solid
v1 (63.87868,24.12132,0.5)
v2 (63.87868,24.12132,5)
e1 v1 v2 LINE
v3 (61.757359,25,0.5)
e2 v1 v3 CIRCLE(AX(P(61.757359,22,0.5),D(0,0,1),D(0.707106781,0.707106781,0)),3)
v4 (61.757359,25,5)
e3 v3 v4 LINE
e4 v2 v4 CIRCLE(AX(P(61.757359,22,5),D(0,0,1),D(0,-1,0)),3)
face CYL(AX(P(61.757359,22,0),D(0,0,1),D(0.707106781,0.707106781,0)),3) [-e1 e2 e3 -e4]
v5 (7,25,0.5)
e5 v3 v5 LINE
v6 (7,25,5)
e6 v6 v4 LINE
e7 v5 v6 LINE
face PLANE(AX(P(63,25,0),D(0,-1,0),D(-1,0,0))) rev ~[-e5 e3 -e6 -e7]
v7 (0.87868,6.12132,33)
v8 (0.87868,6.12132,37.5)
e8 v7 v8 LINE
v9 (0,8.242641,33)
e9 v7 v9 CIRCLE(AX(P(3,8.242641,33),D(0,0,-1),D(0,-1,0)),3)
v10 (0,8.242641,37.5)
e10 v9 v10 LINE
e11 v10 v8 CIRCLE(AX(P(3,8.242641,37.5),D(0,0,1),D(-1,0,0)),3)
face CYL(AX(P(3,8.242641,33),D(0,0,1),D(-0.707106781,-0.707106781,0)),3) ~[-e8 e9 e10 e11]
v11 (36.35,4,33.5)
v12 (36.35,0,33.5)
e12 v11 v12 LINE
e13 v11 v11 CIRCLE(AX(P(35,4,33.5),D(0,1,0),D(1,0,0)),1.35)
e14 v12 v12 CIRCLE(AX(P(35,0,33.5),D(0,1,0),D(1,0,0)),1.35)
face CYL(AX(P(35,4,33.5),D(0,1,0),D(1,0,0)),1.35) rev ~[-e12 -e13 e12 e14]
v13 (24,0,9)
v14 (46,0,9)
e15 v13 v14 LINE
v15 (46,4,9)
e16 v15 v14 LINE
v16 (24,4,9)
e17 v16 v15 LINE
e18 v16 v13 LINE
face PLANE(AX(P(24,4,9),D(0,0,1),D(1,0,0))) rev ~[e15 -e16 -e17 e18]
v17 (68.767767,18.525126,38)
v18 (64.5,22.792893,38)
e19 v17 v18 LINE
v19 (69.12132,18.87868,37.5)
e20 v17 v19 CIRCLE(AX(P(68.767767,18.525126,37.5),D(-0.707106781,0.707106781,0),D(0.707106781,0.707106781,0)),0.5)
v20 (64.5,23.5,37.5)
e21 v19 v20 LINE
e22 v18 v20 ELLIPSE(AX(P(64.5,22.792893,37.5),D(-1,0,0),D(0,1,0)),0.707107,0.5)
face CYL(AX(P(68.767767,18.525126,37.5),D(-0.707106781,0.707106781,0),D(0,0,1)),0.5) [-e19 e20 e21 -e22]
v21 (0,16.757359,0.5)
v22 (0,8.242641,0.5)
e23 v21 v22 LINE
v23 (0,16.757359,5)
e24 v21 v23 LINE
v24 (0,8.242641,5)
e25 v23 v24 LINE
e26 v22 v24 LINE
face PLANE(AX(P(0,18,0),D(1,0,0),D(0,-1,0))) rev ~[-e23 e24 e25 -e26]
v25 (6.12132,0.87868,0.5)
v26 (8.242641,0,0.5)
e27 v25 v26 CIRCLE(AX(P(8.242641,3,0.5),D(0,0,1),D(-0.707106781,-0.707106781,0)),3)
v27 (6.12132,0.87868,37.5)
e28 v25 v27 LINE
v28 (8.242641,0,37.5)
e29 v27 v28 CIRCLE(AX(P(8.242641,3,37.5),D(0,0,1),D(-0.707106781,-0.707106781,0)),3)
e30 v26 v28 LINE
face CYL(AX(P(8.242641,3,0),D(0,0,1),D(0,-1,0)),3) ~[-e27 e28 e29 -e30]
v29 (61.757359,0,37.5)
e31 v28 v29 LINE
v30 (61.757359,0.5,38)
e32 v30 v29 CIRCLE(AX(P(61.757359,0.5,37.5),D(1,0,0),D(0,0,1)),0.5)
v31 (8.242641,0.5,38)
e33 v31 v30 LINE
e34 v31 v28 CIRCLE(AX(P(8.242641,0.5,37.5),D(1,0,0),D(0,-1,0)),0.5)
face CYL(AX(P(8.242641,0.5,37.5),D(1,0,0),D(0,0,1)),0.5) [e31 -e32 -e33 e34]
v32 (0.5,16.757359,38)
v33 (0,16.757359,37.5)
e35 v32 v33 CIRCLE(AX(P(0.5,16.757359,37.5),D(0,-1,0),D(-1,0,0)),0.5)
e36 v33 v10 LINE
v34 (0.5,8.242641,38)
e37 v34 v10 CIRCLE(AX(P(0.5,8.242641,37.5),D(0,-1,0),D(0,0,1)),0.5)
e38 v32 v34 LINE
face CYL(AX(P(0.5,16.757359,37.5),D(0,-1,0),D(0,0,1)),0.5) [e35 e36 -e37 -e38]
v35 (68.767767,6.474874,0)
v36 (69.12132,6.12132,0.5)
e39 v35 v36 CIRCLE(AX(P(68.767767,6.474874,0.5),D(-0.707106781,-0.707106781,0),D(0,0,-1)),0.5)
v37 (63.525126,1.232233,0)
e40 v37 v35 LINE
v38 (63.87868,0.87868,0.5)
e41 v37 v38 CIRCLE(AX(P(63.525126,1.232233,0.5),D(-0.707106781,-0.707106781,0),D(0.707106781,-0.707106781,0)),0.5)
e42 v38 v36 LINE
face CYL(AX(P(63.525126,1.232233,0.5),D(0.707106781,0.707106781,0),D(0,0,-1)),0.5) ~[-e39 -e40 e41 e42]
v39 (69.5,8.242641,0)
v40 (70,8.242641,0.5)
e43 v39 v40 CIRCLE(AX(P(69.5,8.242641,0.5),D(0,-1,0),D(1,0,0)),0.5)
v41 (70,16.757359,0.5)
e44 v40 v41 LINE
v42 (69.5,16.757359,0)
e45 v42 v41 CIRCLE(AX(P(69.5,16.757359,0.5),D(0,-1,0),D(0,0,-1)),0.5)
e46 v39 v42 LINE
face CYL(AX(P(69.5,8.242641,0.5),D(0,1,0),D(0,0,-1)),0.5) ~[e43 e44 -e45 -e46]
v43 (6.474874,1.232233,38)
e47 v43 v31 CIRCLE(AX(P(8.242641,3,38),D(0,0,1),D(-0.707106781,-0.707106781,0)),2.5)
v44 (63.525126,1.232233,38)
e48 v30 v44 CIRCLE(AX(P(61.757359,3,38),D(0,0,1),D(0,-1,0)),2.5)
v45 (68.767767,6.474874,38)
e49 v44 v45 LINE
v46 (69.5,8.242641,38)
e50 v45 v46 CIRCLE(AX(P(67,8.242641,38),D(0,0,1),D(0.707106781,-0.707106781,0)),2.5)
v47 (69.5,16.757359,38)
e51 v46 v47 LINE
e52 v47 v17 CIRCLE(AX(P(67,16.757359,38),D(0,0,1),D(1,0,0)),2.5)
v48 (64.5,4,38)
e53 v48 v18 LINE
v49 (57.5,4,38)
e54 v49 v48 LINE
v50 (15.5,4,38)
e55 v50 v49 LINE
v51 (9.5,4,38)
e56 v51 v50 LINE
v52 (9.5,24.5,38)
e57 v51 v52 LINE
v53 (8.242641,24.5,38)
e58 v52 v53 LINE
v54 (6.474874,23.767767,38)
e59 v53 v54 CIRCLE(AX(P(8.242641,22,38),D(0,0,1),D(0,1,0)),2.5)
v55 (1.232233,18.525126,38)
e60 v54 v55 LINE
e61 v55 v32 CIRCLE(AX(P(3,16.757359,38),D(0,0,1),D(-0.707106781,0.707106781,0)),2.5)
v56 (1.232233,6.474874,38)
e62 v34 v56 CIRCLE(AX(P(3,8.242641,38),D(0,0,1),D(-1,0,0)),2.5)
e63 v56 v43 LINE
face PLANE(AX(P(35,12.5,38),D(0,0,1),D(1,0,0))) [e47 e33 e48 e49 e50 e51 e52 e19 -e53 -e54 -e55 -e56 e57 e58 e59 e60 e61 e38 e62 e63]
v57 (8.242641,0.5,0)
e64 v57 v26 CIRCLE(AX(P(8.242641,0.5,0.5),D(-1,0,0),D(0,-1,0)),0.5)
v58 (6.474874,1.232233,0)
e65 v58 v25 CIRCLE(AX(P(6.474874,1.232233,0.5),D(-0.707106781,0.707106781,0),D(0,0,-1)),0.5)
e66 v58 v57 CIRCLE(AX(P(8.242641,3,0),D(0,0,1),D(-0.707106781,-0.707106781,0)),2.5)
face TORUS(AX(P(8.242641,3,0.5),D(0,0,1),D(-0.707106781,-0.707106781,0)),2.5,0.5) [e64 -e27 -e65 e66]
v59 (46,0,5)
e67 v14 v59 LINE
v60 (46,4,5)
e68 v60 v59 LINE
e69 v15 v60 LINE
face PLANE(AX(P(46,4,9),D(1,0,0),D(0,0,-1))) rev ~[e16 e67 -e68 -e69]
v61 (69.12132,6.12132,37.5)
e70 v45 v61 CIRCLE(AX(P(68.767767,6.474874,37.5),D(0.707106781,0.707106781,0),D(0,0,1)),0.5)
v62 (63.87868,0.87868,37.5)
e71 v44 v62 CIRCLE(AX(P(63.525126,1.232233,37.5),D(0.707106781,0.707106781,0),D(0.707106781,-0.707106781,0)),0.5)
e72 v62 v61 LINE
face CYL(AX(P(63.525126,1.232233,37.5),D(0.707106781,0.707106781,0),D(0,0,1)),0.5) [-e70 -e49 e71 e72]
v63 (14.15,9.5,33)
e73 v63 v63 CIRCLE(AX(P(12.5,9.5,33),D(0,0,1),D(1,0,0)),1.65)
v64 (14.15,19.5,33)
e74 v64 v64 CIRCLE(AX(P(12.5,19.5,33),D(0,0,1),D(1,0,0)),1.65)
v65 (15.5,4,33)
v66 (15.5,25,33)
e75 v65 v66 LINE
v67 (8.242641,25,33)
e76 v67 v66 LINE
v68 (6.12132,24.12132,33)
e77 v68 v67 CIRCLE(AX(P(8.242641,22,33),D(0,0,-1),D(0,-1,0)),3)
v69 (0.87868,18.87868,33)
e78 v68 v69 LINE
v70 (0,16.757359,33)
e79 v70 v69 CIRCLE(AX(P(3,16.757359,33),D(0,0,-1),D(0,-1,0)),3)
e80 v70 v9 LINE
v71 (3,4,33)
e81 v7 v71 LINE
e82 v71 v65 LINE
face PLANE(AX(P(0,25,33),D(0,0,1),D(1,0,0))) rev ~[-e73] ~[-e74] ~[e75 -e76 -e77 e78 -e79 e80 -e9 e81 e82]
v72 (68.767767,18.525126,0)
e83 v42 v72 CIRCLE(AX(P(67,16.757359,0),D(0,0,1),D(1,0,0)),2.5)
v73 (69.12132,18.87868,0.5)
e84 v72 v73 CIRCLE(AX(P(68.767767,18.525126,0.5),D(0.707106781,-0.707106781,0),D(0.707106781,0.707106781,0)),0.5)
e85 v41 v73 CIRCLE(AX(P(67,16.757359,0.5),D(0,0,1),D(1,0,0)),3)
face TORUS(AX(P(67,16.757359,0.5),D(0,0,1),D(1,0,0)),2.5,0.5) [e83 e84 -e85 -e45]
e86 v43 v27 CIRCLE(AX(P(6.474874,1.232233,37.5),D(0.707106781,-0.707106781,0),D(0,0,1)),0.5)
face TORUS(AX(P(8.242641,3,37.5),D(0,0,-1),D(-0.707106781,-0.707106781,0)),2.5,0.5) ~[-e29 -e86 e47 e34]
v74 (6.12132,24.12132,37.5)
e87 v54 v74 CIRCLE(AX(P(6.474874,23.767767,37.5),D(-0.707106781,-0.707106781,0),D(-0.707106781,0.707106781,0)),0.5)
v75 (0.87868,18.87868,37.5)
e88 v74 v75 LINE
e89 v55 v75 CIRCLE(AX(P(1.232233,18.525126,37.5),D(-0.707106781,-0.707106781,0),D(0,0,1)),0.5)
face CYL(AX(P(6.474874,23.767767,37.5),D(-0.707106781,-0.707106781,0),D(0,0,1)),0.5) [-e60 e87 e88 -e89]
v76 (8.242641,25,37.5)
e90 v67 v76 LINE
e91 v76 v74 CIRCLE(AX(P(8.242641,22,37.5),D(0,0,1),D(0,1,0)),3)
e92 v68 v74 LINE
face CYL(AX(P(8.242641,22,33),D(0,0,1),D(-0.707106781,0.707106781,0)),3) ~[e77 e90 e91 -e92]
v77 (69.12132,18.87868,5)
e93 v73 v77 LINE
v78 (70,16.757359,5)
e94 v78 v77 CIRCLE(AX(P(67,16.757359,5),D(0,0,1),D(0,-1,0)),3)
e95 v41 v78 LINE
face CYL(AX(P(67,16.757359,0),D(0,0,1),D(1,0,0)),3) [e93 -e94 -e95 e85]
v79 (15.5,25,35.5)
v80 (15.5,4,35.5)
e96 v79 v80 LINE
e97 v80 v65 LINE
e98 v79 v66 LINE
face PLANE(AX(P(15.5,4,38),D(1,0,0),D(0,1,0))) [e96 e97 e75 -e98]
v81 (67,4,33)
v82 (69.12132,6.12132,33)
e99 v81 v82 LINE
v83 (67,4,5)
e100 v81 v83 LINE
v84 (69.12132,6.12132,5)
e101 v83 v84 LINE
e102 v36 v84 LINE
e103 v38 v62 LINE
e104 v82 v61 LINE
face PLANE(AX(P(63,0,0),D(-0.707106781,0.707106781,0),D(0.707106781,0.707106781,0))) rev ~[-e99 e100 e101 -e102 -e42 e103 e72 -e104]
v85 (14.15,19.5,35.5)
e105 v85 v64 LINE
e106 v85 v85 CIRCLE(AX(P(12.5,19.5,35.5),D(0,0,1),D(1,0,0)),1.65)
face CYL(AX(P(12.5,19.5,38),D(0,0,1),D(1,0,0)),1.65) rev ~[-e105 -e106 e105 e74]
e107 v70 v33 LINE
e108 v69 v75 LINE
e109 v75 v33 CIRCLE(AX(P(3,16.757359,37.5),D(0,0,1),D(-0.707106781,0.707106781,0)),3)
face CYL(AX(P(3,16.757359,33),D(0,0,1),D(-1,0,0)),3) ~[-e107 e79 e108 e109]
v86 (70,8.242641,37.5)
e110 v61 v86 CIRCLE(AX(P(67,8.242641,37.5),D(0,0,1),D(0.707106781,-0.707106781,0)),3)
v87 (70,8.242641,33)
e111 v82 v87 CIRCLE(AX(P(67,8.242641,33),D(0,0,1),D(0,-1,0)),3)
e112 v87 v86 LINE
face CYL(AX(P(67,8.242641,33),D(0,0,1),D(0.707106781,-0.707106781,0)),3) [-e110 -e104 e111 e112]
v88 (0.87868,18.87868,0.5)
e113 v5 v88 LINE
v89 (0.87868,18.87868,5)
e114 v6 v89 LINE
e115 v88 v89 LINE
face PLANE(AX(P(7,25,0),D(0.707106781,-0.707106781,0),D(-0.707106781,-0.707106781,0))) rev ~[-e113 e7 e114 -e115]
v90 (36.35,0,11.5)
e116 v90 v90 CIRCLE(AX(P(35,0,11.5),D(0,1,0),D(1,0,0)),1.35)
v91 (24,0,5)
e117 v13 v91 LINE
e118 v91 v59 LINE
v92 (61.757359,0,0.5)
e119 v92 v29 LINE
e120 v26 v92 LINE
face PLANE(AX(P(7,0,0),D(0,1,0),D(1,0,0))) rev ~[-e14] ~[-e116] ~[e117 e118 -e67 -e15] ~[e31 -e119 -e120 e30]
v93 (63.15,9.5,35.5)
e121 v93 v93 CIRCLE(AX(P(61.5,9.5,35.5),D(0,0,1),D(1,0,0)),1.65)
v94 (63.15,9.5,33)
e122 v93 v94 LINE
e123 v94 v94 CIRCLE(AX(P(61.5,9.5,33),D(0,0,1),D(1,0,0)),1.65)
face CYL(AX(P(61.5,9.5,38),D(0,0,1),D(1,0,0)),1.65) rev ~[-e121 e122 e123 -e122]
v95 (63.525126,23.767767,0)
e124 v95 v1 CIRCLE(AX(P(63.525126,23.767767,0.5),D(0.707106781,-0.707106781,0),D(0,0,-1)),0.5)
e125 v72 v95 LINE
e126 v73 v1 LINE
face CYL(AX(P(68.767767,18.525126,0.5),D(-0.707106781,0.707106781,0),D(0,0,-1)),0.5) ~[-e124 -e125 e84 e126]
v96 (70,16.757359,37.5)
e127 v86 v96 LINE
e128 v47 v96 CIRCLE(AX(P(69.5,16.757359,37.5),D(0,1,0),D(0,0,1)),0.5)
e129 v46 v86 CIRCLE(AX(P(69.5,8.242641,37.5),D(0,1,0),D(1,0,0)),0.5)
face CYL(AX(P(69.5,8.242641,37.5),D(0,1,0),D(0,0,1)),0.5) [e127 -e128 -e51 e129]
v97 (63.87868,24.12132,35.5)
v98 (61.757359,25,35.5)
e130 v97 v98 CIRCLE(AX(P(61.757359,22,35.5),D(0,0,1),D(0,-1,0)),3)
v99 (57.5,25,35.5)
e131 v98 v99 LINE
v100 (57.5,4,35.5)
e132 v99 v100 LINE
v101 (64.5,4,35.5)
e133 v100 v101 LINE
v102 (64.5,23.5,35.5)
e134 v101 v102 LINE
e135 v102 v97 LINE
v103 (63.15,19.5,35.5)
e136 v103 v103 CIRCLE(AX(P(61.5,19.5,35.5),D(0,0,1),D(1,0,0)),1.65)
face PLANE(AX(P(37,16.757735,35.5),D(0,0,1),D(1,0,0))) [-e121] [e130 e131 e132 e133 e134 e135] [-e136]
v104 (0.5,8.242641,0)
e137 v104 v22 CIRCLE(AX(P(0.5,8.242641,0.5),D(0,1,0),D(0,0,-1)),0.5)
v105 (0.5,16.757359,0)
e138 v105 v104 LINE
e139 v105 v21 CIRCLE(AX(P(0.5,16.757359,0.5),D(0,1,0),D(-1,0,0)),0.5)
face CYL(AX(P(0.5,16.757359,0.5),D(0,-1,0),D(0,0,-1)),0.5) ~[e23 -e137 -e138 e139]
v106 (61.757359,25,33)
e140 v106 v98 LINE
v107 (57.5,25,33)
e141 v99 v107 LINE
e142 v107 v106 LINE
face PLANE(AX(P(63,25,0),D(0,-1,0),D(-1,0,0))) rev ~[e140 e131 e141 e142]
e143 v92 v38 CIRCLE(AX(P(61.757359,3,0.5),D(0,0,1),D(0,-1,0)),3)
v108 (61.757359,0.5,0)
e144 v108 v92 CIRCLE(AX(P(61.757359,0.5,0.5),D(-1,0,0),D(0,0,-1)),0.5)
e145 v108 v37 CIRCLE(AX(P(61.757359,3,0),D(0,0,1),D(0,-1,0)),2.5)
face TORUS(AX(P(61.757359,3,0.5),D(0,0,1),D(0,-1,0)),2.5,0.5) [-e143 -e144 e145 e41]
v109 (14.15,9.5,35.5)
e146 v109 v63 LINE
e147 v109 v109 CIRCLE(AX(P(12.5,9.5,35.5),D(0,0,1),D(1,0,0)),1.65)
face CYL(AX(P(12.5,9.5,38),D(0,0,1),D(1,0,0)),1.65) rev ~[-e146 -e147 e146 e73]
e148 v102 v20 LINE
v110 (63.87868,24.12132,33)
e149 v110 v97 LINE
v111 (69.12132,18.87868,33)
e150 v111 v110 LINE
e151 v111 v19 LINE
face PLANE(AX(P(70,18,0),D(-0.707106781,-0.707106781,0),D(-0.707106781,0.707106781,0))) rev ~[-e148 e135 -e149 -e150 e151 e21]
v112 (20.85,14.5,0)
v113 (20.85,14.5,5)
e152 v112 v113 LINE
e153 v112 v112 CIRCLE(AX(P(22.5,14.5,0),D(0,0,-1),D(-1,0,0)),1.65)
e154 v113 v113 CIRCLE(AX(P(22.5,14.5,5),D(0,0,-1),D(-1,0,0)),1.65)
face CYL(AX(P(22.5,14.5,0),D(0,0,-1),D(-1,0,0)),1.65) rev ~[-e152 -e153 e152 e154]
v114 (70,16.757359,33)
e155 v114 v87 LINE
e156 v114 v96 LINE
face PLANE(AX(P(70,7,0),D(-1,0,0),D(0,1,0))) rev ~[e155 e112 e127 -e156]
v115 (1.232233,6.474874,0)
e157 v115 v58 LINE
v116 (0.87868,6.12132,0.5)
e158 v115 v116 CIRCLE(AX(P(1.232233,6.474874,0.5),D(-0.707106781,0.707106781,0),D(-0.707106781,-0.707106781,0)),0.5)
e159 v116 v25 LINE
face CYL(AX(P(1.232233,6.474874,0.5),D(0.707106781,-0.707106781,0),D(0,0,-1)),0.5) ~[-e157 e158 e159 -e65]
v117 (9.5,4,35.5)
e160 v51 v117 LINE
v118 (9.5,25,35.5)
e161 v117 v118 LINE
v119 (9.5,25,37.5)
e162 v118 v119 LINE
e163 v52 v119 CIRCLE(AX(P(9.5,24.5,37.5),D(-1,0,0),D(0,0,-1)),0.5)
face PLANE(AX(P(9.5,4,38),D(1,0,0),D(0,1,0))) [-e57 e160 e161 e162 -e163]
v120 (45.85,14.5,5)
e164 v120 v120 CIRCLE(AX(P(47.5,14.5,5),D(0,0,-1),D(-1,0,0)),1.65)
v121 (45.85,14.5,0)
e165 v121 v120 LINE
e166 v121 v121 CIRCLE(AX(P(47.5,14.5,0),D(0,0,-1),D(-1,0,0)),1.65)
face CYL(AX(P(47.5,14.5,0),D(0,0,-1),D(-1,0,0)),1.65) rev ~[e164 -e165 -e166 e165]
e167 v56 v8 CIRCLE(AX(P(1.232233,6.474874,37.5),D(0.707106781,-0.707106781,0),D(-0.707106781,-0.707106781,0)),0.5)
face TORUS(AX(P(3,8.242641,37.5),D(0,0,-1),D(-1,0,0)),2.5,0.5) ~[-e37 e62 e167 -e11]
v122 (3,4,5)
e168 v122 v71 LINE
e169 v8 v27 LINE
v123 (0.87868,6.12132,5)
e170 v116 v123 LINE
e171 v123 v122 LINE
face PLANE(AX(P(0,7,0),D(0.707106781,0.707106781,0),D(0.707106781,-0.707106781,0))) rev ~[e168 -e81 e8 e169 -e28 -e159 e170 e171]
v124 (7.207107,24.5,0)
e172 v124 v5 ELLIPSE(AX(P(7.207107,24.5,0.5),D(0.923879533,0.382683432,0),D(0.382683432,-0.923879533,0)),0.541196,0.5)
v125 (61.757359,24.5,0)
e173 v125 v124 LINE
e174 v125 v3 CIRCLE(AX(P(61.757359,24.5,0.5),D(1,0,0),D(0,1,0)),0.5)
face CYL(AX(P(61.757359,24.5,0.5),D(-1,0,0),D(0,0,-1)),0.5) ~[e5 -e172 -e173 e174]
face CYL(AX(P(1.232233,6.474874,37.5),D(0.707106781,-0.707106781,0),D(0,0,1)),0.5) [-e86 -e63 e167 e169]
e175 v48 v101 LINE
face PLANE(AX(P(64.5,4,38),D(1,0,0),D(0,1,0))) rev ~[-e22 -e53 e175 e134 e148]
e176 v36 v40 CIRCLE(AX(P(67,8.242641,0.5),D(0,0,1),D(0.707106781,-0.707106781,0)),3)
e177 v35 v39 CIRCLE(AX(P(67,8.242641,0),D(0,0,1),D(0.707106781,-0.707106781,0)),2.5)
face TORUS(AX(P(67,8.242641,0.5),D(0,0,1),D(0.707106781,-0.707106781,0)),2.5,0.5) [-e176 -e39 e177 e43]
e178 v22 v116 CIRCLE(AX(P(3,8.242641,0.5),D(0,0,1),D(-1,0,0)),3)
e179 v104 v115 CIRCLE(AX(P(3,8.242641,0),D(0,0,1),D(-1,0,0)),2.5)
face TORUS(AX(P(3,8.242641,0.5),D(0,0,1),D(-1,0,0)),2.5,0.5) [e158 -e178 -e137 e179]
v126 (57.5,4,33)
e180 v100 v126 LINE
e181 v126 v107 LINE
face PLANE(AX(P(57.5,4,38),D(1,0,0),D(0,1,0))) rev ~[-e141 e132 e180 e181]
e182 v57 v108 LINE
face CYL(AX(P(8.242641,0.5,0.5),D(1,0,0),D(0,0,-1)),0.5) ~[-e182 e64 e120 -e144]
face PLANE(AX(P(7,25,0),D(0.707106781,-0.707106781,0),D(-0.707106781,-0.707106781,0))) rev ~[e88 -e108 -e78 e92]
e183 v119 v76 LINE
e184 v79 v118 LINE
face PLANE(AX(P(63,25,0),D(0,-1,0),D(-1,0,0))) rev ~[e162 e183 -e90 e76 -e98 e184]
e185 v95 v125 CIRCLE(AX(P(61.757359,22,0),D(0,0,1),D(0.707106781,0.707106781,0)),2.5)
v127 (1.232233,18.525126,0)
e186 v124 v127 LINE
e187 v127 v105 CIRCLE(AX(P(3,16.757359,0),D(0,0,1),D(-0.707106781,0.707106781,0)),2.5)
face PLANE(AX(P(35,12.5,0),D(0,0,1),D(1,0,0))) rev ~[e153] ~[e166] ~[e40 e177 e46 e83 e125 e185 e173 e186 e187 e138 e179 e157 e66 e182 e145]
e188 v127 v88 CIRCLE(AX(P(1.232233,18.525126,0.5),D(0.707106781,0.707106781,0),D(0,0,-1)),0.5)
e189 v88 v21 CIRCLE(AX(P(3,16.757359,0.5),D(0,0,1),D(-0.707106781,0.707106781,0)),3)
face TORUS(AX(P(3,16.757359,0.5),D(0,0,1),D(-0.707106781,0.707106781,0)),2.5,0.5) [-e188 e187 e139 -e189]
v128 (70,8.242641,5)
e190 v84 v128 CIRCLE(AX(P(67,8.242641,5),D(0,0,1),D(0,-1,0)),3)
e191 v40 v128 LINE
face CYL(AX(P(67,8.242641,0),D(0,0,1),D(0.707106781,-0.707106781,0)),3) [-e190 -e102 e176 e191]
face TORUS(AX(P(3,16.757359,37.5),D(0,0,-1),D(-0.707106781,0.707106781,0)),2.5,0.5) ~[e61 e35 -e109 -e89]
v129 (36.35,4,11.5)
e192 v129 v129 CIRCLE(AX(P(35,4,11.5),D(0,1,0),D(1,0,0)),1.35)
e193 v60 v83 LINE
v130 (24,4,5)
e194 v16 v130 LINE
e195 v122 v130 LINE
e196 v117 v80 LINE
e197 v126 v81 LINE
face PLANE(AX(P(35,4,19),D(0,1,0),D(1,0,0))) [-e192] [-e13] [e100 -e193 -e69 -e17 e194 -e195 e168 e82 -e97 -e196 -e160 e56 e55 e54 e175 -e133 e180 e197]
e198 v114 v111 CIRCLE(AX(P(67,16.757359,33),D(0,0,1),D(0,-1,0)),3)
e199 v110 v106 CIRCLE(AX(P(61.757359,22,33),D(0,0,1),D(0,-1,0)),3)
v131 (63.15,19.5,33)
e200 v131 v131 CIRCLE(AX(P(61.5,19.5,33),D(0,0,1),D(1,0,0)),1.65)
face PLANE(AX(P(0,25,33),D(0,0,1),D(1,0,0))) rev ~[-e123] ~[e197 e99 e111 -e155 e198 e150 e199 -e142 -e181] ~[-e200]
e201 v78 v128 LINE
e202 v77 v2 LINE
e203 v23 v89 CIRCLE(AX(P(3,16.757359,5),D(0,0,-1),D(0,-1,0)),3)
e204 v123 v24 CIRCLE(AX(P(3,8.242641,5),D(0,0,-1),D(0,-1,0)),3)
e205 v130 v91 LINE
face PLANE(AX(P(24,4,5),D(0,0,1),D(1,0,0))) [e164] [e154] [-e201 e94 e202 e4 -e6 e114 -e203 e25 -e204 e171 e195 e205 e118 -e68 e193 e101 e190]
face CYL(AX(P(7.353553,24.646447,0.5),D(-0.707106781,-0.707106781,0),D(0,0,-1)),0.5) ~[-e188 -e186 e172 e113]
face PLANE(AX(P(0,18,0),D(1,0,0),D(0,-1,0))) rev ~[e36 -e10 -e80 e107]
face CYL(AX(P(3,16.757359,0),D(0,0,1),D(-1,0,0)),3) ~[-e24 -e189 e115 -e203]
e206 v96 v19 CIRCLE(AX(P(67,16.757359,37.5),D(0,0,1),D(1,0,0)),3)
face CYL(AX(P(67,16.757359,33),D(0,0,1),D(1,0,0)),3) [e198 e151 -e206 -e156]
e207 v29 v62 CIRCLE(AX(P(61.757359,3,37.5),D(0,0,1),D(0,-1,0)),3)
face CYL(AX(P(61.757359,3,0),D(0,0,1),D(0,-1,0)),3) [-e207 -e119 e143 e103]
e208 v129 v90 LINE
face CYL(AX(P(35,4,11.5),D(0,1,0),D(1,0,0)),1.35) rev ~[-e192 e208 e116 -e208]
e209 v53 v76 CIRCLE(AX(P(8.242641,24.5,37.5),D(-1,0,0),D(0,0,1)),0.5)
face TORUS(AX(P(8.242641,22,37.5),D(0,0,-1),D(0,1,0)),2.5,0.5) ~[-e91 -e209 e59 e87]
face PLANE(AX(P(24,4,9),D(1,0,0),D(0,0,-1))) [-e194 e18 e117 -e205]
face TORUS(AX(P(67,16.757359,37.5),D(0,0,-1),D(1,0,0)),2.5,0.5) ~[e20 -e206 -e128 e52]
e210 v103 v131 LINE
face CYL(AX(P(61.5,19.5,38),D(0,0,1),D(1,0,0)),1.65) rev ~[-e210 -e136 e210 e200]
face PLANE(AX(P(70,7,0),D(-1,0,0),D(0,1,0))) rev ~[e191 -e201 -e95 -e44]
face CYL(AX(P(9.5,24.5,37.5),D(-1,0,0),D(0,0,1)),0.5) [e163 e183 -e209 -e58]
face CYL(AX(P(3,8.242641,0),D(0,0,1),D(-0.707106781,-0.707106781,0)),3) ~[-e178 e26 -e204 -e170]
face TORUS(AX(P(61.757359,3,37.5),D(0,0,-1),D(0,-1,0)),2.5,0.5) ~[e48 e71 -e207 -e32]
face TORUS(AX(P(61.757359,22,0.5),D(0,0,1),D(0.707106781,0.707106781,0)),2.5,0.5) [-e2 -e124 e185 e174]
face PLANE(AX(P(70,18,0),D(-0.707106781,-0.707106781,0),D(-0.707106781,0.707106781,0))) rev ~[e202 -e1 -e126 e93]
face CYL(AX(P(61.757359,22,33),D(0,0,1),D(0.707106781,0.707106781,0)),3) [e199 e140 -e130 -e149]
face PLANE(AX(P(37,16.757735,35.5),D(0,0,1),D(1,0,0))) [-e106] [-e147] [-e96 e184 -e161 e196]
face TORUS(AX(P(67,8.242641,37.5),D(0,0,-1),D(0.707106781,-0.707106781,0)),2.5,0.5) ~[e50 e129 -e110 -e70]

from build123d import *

# Parameters (mm, degrees)
EXTRUDE_1_DEPTH     = 38
SKETCH_2_W          = 70
SKETCH_2_H          = 28
CUT_EXTRUDE_1_DEPTH = 21
SKETCH_3_R          = 1.65
SKETCH_3_W          = 42
SKETCH_3_H          = 21
CUT_EXTRUDE_2_DEPTH = 20
SKETCH_5_R          = 1.65
CUT_EXTRUDE_3_DEPTH = 10
SKETCH_7_W          = 55
SKETCH_7_H          = 25.515470347
CUT_EXTRUDE_4_DEPTH = 2.5
FILLET_1_R          = 3
FILLET_2_R          = 0.5
SKETCH_8_R          = 1.35
SKETCH_8_W          = 22
SKETCH_8_H          = 4
CUT_EXTRUDE_5_DEPTH = 5


with BuildPart() as part:
    # 草图1 → 凸台-拉伸1 (new body)
    with BuildSketch(Plane.XY):
        Polygon((7, 0), (63, 0), (70, 7), (70, 18), (63, 25), (7, 25), (0, 18), (0, 7), align=None)
    extrude(amount=EXTRUDE_1_DEPTH)

    # 草图2 → 切除-拉伸1 (cut)
    with BuildSketch(Plane(origin=(0, 25, 0), x_dir=(1, 0, 0), z_dir=(0, 1, 0))):
        with Locations((35, -19)):
            Rectangle(SKETCH_2_W, SKETCH_2_H)
    extrude(amount=-CUT_EXTRUDE_1_DEPTH, mode=Mode.SUBTRACT)

    # 草图3 → 切除-拉伸2 (cut)
    with BuildSketch(Plane.XY.offset(38)):
        with Locations((12.5, 19.5)):
            Circle(SKETCH_3_R)
        with Locations((12.5, 9.5)):
            Circle(SKETCH_3_R)
        with Locations((61.5, 19.5)):
            Circle(SKETCH_3_R)
        with Locations((61.5, 9.5)):
            Circle(SKETCH_3_R)
        with Locations((36.5, 14.5)):
            Rectangle(SKETCH_3_W, SKETCH_3_H)
    extrude(amount=-CUT_EXTRUDE_2_DEPTH, mode=Mode.SUBTRACT)

    # 草图5 → 切除-拉伸3 (cut)
    with BuildSketch(Plane(origin=(0, 0, 0), x_dir=(-1, 0, 0), z_dir=(0, 0, -1))):
        with Locations((-22.5, 14.5)):
            Circle(SKETCH_5_R)
        with Locations((-47.5, 14.5)):
            Circle(SKETCH_5_R)
    extrude(amount=-CUT_EXTRUDE_3_DEPTH, mode=Mode.SUBTRACT)

    # 草图7 → 切除-拉伸4 (cut)
    with BuildSketch(Plane.XY.offset(38)):
        with Locations((37, 16.757735174)):
            Rectangle(SKETCH_7_W, SKETCH_7_H)
    extrude(amount=-CUT_EXTRUDE_4_DEPTH, mode=Mode.SUBTRACT)

    # 圆角1
    fillet_1_edges = [part.edges().sort_by_distance(p)[0] for p in [
        (63, 25, 34.25),
        (0, 7, 35.5),
        (0, 18, 35.5),
        (7, 25, 35.5),
        (70, 18, 35.5),
        (70, 7, 35.5),
        (63, 0, 19),
        (7, 0, 19),
        (0, 7, 2.5),
        (0, 18, 2.5),
        (63, 25, 2.5),
        (70, 18, 2.5),
        (70, 7, 2.5),
    ]]
    fillet(fillet_1_edges, radius=FILLET_1_R)

    # 圆角2
    fillet_2_edges = [part.edges().sort_by_distance(p)[0] for p in [
        (8.871320344, 25, 38),
        (66.810660172, 21.189339828, 38),
        (34.378679656, 25, 0),
        (3.5, 3.5, 0),
        (0, 12.5, 0),
        (66.5, 21.5, 0),
        (70, 12.5, 0),
        (66.5, 3.5, 0),
        (35, 0, 0),
        (7.09459039, 0.228361402, 0),
        (0.228361402, 7.09459039, 0),
        (0.228361402, 17.90540961, 0),
        (62.90540961, 0.228361402, 0),
        (69.771638598, 7.09459039, 0),
        (69.771638598, 17.90540961, 0),
        (62.90540961, 24.771638598, 0),
        (70, 12.5, 38),
        (3.5, 21.5, 38),
        (0, 12.5, 38),
        (3.5, 3.5, 38),
        (35, 0, 38),
        (66.5, 3.5, 38),
        (7.09459039, 0.228361402, 38),
        (0.228361402, 7.09459039, 38),
        (0.228361402, 17.90540961, 38),
        (7.09459039, 24.771638598, 38),
        (62.90540961, 0.228361402, 38),
        (69.771638598, 7.09459039, 38),
        (69.771638598, 17.90540961, 38),
        (3.939339828, 21.939339828, 0),
    ]]
    fillet(fillet_2_edges, radius=FILLET_2_R)

    # 草图8 → 切除-拉伸5 (cut, through all)
    with BuildSketch(Plane(origin=(0, 4, 0), x_dir=(1, 0, 0), z_dir=(0, 1, 0))):
        with Locations((35, -11.5)):
            Circle(SKETCH_8_R)
        with Locations((35, -33.5)):
            Circle(SKETCH_8_R)
        with Locations((35, -7)):
            Rectangle(SKETCH_8_W, SKETCH_8_H)
    extrude(amount=-CUT_EXTRUDE_5_DEPTH, mode=Mode.SUBTRACT)


solid = part.part
